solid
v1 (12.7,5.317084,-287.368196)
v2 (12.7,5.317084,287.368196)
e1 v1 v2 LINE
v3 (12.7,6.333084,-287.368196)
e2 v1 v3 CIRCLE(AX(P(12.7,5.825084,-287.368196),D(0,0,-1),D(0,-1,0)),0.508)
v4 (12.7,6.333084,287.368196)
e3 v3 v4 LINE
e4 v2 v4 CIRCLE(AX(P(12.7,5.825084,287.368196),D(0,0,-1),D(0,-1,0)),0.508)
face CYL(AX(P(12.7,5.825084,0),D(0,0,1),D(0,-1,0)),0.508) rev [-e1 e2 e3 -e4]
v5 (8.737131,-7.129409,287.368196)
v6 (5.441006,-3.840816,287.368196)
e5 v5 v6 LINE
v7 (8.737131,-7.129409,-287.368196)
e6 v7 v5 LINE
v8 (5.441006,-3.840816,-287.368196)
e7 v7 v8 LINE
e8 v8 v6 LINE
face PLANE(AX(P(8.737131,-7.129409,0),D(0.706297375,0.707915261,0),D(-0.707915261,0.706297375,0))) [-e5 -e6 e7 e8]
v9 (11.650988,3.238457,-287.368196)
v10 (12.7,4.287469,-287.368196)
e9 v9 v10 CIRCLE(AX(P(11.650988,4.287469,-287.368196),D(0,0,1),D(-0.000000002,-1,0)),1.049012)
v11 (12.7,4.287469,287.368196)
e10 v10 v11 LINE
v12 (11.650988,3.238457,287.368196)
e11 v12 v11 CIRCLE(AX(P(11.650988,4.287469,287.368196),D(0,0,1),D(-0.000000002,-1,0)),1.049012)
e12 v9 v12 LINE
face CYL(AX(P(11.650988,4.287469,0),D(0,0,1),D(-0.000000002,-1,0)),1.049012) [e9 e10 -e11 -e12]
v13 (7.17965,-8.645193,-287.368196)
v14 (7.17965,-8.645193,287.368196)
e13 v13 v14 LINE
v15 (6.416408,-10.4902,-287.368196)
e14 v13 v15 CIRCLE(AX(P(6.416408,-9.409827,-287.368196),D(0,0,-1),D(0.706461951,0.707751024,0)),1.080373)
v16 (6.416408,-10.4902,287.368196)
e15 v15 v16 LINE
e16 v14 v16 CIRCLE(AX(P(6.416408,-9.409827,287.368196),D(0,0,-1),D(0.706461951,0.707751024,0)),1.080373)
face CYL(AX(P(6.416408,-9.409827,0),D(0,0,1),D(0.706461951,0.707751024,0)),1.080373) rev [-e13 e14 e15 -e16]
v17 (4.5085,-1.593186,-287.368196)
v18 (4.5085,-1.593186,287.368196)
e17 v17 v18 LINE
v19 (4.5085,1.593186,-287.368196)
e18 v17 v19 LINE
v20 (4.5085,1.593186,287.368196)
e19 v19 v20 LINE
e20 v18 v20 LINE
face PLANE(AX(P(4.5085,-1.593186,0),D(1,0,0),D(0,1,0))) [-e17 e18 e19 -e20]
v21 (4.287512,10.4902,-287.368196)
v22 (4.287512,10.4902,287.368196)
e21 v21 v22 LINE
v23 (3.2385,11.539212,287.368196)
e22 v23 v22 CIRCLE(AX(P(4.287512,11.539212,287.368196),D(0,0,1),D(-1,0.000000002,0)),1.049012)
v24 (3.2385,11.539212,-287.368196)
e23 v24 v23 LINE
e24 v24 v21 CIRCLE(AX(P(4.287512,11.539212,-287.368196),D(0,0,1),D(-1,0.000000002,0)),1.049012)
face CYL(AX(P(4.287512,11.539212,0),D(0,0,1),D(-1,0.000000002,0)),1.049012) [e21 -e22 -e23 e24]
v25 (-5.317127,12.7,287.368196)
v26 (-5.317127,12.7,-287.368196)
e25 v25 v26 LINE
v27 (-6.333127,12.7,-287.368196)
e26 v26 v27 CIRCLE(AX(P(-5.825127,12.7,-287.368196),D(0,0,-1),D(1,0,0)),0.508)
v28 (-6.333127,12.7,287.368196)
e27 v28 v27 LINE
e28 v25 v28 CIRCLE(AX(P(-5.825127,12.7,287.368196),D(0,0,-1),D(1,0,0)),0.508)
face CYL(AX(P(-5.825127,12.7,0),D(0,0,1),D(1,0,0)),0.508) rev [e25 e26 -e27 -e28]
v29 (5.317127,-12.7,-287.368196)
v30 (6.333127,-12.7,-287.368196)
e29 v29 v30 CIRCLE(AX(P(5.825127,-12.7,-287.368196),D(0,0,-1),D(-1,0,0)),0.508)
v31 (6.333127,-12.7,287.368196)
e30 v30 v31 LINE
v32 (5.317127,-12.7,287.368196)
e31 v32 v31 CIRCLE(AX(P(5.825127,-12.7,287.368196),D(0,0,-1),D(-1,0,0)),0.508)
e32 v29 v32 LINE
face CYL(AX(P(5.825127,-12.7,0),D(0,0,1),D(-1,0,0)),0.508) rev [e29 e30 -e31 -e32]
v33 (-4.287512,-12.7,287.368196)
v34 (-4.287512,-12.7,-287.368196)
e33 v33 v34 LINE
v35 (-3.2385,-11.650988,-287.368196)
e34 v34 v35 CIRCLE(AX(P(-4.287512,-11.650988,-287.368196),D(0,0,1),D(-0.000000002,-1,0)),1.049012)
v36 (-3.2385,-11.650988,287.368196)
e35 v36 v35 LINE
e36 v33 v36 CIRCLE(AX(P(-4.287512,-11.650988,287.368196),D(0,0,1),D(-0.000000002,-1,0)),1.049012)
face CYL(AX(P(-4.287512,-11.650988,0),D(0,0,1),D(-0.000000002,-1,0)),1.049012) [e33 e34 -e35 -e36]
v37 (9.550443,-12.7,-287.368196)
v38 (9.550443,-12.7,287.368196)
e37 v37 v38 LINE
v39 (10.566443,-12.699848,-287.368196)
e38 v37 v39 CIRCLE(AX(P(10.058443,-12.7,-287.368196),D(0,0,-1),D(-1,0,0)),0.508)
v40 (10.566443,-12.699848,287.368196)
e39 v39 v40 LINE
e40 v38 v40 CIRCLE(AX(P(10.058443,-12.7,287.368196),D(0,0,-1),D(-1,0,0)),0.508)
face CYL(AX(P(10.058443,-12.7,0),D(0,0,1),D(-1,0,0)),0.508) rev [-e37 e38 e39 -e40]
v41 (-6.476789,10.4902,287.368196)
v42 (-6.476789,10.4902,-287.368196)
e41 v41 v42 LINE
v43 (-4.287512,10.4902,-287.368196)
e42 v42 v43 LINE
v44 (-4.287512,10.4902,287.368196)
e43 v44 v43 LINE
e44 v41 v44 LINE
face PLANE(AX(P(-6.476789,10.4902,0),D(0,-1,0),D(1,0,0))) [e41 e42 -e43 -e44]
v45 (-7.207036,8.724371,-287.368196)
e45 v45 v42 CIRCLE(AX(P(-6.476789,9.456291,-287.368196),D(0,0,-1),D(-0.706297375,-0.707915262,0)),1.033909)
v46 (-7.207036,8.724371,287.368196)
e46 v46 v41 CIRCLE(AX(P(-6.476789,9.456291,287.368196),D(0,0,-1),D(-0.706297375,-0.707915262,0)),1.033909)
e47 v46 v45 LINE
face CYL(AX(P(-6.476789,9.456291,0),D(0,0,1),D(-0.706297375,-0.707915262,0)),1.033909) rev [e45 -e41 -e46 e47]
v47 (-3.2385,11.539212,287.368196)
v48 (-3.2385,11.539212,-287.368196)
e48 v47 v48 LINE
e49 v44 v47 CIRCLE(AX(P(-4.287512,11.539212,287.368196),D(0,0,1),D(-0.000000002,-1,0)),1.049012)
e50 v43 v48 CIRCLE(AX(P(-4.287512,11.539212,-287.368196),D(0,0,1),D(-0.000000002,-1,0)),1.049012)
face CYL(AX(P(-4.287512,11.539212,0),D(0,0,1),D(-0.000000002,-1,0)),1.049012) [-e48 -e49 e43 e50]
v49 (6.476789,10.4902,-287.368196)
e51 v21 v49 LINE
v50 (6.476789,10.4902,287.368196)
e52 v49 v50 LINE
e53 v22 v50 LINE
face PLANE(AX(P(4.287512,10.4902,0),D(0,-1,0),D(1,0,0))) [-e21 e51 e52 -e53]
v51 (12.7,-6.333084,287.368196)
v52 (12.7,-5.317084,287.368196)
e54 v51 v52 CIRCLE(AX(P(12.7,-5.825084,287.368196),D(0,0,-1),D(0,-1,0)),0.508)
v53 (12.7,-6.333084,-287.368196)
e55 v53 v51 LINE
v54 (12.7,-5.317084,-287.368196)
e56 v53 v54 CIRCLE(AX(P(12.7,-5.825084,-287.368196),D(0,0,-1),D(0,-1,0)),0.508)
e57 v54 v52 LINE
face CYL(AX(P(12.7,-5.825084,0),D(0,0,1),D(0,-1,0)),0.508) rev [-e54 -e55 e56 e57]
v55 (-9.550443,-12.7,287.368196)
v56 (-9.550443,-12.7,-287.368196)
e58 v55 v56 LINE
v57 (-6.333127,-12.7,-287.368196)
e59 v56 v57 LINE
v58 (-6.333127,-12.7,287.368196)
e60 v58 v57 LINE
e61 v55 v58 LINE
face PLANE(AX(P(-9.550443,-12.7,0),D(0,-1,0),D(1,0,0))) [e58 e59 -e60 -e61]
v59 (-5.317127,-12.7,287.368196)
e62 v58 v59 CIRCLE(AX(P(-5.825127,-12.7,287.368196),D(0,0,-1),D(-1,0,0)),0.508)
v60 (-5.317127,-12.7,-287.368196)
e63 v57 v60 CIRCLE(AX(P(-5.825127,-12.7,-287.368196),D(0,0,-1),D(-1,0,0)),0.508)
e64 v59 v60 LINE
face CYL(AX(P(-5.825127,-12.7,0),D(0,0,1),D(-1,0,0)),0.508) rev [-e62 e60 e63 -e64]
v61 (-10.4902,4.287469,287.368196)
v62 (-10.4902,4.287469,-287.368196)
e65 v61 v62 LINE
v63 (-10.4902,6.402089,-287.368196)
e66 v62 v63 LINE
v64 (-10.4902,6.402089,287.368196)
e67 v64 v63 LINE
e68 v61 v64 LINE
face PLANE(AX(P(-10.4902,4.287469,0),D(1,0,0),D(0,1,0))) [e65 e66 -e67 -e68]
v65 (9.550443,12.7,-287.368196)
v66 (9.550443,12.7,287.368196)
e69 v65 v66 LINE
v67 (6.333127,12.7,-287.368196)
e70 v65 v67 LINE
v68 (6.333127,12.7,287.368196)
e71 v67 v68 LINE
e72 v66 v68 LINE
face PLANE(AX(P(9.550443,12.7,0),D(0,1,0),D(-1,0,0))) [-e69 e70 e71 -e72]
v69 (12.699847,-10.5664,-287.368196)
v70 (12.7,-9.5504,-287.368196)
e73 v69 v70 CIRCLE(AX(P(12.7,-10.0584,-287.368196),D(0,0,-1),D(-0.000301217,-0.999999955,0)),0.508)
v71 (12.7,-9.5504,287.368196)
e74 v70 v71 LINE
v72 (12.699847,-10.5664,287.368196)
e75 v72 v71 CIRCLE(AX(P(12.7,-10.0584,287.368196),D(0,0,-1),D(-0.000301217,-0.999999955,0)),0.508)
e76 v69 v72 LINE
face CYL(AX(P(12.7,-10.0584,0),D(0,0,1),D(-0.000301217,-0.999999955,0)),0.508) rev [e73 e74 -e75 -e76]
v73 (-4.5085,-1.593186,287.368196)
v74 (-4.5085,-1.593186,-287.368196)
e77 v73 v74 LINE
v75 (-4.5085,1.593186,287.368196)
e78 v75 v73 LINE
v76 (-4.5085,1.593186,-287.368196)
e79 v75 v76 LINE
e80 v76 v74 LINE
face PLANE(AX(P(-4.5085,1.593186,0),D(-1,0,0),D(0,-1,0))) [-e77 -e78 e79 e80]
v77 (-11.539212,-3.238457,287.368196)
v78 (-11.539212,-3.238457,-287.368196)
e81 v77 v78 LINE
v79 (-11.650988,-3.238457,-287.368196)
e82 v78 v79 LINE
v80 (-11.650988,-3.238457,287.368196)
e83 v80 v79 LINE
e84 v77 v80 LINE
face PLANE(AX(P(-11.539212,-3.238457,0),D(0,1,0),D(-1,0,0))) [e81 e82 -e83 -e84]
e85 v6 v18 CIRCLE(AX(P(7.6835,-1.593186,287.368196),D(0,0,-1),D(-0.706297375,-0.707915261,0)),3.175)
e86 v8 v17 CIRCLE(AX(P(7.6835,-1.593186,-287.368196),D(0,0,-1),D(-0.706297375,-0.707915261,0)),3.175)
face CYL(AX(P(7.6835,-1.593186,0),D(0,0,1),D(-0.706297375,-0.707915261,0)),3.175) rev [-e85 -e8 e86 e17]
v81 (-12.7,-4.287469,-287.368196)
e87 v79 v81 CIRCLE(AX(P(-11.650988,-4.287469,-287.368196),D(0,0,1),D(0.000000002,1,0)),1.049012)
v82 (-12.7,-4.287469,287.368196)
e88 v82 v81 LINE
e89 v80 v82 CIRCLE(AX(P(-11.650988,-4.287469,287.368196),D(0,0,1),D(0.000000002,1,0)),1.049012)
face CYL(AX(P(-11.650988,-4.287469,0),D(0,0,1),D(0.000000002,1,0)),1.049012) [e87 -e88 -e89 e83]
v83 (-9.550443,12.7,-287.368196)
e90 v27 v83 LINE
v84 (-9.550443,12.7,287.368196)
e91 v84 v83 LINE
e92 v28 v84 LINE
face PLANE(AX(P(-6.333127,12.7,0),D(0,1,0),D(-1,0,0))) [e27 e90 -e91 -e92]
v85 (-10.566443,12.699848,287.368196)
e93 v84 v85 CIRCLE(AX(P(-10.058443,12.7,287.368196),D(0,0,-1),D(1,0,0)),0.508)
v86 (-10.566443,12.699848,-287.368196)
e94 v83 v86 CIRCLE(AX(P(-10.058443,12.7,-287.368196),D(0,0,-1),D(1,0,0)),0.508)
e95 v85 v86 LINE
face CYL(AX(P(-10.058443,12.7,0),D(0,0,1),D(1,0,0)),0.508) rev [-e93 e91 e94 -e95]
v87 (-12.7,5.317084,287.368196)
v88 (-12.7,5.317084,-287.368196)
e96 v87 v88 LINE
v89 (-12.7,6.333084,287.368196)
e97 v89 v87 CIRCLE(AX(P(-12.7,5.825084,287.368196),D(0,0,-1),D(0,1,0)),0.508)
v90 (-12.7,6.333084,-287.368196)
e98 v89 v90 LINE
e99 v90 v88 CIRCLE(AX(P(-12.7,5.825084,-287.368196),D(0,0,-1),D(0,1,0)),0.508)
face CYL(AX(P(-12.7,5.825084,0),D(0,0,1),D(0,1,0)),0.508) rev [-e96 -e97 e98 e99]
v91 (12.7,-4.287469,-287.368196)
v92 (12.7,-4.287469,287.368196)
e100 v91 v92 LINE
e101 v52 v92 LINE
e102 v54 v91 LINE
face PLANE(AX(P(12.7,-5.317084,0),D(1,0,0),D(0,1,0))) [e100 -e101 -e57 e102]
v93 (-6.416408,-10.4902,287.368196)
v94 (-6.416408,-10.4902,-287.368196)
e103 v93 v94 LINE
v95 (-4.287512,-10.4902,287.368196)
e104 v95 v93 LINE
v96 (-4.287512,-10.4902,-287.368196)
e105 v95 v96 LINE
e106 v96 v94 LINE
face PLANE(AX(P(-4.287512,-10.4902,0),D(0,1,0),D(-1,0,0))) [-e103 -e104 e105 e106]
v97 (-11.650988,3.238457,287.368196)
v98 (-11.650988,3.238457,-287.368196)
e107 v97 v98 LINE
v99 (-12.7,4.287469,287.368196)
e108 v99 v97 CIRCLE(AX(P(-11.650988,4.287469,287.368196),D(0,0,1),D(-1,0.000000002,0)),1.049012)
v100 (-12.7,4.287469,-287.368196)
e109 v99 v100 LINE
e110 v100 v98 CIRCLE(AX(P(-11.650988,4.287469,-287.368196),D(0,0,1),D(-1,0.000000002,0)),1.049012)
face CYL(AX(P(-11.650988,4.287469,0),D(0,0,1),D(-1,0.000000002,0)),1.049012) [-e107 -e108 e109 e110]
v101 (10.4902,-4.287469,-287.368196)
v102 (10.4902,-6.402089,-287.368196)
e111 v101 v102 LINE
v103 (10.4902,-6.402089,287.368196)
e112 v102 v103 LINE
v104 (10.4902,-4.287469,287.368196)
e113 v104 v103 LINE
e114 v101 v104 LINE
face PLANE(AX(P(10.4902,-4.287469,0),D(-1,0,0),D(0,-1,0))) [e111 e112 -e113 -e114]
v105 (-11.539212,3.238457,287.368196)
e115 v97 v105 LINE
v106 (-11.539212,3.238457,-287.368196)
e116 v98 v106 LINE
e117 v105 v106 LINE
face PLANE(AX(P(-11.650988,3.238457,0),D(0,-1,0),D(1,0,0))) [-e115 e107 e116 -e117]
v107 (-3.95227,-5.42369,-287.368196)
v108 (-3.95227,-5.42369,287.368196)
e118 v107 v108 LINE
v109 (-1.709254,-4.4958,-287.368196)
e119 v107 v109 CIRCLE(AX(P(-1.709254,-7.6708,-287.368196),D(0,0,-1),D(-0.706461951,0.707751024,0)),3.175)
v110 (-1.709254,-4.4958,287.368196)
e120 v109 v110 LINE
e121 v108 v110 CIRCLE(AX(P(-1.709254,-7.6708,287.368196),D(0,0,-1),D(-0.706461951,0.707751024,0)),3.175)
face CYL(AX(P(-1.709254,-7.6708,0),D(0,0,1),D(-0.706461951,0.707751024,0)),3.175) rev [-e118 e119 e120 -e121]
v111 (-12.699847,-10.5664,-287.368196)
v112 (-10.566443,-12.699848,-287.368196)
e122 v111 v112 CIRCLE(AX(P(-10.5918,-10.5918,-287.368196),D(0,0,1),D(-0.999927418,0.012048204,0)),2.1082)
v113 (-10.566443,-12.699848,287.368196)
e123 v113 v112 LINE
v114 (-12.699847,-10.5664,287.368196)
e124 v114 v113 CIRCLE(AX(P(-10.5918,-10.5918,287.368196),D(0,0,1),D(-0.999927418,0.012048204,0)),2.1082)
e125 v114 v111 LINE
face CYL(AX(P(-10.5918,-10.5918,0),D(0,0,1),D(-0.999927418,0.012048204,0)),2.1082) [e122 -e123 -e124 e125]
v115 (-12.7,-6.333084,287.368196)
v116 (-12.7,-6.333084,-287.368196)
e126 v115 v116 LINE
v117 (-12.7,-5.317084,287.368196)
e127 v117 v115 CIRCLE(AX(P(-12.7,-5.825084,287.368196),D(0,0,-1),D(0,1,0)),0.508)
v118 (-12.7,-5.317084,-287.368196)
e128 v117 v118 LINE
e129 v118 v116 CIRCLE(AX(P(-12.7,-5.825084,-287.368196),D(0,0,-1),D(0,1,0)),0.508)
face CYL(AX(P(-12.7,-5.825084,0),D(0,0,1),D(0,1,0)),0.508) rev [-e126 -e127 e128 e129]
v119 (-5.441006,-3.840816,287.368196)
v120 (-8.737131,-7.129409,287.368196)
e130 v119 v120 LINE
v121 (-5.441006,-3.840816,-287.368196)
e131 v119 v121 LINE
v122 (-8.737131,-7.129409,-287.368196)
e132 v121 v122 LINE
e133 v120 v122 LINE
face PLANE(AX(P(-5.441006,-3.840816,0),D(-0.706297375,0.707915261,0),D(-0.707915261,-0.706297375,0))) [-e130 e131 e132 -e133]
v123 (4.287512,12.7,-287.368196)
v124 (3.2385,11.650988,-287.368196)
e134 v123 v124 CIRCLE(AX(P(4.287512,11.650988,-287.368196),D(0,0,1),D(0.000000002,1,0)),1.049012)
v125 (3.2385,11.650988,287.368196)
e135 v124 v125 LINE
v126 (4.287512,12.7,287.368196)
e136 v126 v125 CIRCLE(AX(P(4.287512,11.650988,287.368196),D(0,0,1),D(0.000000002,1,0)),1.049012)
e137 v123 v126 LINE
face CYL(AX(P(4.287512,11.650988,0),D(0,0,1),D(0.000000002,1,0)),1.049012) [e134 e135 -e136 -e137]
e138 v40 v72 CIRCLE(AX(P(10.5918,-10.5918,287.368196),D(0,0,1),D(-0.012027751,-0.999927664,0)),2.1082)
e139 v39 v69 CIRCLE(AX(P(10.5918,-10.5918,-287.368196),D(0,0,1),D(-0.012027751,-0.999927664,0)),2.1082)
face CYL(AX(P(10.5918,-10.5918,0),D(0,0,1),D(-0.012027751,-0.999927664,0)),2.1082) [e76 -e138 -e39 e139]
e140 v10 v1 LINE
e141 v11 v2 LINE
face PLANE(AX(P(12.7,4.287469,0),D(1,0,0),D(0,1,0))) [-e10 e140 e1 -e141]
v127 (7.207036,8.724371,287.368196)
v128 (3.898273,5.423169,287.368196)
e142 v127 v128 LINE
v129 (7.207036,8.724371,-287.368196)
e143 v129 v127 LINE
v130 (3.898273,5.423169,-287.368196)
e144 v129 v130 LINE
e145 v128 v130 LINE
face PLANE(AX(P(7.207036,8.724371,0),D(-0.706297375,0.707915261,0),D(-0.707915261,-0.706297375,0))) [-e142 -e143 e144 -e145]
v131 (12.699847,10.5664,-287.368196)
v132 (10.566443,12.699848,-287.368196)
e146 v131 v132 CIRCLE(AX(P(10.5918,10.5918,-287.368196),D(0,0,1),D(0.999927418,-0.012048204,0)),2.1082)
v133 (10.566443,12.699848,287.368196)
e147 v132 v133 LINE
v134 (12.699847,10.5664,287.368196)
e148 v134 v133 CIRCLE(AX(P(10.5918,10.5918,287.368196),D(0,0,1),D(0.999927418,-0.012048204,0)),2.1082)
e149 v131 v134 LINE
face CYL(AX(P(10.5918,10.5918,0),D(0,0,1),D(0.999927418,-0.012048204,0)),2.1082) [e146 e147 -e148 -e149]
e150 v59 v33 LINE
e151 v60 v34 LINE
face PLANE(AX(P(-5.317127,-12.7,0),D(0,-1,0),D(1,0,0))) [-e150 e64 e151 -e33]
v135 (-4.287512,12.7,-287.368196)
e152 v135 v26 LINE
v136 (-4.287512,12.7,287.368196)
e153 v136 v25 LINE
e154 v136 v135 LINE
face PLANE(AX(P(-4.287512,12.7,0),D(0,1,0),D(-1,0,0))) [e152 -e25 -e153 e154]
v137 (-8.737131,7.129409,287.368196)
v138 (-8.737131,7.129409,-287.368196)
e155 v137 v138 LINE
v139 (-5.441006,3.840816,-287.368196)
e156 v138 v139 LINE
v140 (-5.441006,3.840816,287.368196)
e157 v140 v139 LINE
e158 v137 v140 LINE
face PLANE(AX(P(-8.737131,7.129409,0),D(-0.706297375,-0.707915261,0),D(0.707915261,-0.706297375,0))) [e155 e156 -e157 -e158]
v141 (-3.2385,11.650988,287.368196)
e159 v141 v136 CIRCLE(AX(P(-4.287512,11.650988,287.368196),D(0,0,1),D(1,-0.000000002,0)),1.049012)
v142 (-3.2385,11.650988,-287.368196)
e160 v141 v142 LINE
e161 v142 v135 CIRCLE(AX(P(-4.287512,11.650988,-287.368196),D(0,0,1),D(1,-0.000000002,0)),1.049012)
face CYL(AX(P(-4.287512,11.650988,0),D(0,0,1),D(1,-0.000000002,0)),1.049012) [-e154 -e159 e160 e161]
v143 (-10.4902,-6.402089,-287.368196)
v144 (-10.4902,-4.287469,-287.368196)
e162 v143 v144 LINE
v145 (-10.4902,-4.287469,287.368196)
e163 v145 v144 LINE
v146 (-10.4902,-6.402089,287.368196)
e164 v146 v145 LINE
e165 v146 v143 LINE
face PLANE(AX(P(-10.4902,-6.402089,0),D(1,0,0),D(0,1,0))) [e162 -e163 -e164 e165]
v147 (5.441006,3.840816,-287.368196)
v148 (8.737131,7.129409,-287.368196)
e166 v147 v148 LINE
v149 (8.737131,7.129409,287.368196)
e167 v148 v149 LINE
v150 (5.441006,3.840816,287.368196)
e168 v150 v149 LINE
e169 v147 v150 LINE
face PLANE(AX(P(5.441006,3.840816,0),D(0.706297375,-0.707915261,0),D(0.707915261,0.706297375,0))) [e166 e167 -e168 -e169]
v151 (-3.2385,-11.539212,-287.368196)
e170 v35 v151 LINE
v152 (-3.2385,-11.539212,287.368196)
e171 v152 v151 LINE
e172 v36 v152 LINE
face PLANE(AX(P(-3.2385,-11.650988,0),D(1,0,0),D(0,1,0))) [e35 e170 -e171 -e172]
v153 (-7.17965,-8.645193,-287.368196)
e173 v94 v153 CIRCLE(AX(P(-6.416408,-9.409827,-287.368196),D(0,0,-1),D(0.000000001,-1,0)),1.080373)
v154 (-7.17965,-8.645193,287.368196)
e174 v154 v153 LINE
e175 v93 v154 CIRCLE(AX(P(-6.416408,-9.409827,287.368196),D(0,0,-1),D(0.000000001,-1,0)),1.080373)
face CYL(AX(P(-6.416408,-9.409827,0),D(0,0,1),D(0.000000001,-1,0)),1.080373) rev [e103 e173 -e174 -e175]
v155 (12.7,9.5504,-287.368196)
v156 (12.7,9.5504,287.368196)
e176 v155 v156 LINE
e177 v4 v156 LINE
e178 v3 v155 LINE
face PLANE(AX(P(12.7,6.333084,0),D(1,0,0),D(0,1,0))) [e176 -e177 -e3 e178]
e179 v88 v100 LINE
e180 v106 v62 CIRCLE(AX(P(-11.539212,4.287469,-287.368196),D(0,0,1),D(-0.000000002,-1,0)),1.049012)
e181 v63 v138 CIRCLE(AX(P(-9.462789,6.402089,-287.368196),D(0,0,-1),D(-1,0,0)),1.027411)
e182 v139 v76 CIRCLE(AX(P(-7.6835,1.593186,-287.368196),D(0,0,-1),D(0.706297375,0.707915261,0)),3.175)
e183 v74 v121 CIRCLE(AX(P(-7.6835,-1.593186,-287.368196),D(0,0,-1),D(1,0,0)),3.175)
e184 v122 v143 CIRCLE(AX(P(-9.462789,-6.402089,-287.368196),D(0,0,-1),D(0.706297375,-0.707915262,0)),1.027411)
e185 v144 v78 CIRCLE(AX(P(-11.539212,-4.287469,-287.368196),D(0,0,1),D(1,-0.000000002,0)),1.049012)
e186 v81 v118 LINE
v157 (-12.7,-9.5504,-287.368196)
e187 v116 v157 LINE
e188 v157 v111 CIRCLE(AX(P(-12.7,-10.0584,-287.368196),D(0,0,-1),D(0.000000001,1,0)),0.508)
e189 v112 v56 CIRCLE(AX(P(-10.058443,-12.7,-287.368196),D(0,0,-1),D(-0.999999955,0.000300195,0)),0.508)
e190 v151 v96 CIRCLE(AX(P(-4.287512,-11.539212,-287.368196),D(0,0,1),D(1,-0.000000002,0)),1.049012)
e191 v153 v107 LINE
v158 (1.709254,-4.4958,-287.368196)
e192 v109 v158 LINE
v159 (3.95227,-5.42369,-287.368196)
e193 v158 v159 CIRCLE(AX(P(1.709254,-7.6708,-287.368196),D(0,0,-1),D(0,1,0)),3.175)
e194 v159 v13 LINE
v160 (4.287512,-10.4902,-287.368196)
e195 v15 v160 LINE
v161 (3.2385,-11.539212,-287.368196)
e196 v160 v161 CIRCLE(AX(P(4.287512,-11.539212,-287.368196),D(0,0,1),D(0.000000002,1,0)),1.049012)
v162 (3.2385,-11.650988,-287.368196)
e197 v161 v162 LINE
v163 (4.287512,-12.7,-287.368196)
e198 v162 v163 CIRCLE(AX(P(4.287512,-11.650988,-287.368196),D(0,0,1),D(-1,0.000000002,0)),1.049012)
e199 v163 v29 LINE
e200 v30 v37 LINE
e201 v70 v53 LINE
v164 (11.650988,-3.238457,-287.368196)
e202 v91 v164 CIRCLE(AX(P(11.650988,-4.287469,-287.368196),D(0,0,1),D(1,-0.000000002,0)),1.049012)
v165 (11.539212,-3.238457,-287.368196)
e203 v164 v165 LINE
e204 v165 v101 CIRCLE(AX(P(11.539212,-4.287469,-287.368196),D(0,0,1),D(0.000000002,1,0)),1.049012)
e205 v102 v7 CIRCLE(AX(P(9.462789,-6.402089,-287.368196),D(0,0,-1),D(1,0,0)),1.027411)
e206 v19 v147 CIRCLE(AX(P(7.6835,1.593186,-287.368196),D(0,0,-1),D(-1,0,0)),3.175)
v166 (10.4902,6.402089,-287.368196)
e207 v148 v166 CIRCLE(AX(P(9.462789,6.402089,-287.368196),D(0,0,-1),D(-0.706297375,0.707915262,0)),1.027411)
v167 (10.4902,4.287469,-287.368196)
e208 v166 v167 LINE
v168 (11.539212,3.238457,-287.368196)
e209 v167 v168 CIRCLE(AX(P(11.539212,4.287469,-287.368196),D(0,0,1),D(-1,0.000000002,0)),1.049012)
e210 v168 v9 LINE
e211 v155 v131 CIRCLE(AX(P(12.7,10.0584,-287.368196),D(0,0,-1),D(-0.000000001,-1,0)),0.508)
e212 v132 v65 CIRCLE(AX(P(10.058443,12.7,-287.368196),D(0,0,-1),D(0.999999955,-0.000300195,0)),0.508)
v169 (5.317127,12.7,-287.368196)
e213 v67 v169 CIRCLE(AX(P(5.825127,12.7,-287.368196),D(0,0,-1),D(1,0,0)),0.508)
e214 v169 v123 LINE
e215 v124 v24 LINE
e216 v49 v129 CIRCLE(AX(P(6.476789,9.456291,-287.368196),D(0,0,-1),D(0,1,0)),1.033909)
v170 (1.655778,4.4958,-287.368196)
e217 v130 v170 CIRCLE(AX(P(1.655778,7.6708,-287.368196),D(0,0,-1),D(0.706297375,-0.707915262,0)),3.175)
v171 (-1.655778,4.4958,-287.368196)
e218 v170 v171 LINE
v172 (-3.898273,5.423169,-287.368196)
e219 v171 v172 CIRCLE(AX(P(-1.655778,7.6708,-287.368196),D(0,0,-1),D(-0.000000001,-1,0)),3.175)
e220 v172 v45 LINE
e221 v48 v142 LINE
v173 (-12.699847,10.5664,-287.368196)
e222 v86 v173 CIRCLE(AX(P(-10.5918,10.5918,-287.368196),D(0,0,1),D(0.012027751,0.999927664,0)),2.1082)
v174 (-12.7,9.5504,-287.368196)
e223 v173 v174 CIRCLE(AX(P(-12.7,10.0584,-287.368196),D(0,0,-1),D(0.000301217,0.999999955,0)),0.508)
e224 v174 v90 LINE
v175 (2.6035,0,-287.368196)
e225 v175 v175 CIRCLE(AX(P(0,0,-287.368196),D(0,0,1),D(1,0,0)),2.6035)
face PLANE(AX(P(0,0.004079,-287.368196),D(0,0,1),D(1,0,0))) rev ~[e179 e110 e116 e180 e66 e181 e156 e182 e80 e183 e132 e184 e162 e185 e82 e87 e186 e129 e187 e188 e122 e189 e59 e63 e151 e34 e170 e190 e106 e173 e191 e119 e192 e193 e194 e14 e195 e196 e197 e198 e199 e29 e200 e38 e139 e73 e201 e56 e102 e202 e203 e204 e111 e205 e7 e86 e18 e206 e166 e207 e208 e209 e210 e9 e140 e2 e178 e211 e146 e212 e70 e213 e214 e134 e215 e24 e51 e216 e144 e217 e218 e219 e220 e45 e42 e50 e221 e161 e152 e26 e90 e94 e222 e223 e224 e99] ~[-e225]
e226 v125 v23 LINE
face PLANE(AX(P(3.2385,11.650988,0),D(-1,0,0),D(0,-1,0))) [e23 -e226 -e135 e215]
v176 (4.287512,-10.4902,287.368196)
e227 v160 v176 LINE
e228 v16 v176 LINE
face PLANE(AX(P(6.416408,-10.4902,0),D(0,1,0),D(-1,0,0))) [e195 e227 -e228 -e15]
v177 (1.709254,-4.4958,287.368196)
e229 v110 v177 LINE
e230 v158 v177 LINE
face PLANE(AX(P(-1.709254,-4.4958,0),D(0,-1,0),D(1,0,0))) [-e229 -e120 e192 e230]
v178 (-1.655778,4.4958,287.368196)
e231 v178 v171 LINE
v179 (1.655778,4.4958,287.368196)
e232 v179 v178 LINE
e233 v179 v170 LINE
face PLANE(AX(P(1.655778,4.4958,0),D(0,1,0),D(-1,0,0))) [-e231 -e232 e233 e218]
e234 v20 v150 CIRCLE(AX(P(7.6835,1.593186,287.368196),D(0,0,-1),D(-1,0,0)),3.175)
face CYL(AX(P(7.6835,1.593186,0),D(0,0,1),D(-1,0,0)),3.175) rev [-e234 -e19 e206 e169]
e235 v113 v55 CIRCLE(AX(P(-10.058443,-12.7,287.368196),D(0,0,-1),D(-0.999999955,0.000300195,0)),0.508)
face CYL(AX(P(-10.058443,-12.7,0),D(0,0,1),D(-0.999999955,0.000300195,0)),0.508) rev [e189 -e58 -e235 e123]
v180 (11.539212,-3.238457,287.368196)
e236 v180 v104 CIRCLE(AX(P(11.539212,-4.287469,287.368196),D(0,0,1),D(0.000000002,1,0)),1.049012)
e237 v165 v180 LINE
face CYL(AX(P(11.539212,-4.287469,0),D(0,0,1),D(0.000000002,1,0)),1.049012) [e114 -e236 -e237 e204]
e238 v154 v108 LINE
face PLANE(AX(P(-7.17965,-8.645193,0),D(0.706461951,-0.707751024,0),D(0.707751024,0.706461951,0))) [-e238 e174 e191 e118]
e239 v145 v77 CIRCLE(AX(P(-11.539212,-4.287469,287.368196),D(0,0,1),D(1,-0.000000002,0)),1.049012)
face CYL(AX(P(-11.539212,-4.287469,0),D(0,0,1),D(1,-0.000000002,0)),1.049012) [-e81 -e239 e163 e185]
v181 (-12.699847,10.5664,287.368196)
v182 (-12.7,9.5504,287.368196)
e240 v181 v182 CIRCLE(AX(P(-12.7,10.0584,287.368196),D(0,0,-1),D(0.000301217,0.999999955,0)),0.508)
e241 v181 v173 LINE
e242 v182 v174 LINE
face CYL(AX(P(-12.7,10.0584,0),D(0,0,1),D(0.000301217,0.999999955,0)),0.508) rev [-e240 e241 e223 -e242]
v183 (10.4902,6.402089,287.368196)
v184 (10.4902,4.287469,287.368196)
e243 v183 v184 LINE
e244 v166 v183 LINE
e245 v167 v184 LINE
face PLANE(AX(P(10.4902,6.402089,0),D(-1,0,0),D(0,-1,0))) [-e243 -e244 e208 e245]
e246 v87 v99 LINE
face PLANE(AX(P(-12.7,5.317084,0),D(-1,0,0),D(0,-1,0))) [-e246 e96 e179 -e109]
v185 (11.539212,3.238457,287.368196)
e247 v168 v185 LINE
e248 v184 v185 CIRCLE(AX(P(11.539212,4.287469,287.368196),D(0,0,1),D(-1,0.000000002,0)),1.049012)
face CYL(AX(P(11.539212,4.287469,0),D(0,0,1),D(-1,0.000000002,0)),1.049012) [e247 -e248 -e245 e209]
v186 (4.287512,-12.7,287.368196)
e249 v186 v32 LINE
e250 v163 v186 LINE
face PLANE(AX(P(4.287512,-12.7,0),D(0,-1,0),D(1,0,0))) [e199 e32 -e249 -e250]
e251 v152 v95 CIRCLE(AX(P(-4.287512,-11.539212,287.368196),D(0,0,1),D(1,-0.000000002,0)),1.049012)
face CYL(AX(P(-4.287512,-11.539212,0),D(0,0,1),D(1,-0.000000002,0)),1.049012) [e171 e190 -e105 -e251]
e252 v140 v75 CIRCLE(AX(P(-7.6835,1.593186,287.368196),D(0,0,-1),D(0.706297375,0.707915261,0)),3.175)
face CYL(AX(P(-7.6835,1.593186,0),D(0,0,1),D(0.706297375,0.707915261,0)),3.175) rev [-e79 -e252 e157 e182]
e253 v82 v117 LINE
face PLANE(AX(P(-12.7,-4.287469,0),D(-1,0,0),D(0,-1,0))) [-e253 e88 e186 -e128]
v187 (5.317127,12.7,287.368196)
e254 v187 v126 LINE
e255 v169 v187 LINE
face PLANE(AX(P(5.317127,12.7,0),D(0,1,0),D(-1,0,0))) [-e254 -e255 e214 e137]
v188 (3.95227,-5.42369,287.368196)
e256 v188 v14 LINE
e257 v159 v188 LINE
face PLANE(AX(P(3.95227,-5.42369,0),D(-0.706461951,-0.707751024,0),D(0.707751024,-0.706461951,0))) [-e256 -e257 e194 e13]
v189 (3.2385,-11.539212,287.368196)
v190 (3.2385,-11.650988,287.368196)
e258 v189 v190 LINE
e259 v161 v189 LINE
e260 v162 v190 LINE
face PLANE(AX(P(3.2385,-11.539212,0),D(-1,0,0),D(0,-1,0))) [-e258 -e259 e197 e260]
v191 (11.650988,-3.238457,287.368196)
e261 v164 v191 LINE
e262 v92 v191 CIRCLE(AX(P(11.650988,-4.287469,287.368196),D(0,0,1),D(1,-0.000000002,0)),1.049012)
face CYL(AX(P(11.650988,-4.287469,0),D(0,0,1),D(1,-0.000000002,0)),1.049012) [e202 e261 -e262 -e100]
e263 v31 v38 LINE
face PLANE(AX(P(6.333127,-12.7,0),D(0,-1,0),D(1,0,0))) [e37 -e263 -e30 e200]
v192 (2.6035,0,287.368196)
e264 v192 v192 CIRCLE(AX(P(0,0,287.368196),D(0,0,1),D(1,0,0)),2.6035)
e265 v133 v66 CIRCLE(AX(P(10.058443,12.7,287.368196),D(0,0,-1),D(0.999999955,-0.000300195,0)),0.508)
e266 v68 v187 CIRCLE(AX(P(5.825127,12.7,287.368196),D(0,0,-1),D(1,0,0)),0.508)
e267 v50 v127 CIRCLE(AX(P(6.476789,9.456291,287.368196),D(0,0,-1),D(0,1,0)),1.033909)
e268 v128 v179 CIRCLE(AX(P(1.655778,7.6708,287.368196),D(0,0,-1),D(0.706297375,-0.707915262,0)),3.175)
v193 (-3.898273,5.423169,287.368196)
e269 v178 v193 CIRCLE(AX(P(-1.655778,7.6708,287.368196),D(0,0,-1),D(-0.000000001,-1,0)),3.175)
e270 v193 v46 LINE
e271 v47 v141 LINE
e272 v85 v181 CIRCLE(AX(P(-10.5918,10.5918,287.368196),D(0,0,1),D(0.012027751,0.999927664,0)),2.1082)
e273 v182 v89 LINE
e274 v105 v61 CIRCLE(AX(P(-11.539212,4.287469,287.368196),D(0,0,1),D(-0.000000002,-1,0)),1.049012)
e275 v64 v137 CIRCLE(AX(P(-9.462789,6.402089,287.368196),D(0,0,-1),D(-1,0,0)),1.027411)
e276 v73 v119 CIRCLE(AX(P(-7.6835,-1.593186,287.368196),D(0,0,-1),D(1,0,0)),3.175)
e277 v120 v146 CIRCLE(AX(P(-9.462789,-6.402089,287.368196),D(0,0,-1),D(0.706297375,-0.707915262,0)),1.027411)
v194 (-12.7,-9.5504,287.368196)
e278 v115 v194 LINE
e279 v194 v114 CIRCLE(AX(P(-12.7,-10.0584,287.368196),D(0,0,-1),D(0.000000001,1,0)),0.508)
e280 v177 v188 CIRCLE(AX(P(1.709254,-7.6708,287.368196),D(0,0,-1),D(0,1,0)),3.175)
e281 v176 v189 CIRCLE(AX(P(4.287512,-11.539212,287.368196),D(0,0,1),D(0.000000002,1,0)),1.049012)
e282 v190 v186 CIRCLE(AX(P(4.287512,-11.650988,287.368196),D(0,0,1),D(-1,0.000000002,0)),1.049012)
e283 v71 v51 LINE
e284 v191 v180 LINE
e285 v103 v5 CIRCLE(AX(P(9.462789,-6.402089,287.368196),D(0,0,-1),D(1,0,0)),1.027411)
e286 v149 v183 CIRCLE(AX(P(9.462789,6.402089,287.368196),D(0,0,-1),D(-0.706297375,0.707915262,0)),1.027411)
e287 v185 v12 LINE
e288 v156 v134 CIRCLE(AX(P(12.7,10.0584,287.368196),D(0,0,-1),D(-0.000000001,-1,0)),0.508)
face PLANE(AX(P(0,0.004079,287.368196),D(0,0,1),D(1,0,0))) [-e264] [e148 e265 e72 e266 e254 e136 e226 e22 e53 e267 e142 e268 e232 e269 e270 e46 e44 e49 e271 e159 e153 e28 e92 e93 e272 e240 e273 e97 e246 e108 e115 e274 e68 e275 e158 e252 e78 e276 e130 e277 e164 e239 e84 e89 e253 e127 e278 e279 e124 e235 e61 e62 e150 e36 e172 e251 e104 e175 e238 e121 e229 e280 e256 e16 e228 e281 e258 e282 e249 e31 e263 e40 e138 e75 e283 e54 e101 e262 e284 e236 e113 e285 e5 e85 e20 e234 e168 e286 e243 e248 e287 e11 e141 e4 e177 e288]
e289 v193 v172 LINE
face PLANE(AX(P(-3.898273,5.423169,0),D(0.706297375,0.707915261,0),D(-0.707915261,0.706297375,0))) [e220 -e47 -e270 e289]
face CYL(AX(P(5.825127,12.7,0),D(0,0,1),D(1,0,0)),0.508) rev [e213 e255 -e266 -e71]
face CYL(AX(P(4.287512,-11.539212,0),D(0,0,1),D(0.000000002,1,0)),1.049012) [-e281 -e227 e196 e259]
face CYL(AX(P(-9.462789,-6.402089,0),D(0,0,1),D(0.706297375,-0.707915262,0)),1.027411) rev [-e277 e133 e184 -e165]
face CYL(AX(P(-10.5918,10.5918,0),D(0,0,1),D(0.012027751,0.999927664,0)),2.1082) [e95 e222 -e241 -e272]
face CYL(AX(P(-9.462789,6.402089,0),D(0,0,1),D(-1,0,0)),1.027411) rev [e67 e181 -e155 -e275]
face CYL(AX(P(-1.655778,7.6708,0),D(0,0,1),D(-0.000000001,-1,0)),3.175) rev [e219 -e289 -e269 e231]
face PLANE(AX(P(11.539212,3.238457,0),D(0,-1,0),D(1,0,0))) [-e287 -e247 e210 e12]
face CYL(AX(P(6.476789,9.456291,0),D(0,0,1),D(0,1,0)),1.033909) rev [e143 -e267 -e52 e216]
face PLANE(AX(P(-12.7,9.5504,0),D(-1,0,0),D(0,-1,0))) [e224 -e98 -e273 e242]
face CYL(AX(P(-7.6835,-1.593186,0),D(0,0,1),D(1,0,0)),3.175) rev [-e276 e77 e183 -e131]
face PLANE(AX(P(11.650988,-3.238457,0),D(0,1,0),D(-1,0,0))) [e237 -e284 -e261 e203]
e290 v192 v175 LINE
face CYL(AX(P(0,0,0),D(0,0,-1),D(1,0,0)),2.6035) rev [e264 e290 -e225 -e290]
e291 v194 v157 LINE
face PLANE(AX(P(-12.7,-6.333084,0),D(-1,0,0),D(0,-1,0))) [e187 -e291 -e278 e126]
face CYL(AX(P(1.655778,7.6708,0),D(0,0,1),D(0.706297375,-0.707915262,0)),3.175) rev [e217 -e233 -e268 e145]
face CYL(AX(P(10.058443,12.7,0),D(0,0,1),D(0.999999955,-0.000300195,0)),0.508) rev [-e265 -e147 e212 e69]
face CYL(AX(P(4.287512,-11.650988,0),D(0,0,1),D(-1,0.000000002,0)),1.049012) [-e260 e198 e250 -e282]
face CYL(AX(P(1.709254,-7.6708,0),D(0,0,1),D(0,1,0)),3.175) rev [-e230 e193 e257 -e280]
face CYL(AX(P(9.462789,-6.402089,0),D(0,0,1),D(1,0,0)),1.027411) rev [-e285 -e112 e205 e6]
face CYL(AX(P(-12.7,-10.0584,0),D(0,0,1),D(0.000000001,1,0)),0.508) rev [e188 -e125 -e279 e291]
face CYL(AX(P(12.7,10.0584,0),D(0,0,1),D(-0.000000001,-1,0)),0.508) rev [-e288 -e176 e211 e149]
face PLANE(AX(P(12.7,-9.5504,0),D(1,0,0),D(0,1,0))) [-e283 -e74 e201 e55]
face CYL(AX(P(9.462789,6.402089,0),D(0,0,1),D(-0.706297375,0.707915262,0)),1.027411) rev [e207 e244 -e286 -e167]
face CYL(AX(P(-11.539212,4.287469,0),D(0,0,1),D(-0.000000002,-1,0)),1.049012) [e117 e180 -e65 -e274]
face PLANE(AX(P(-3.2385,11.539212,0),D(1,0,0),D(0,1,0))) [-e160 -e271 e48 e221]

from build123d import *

# Parameters (mm, degrees)
SKETCH1_R           = 2.6035
BOSS_EXTRUDE1_DEPTH = 287.3681959


with BuildPart() as part:
    # Sketch1 → Boss-Extrude1 (new, symmetric)
    with BuildSketch(Plane.XY):
        with BuildLine():
            Line((-7.179650497, -8.645192506), (-3.952270251, -5.423690499))
            ThreePointArc((-3.952270251, -5.423690499), (-2.922936451, -4.736929036), (-1.709253557, -4.4958))
            Line((-1.709253557, -4.4958), (1.709253557, -4.4958))
            ThreePointArc((1.709253557, -4.4958), (2.922936451, -4.736929036), (3.952270251, -5.423690499))
            Line((3.952270251, -5.423690499), (7.179650497, -8.645192506))
            ThreePointArc((7.179650497, -8.645192506), (7.41473083, -9.822813117), (6.416408329, -10.4902))
            Line((6.416408329, -10.4902), (4.287512407, -10.4902))
            ThreePointArc((4.287512407, -10.4902), (3.54574862, -10.79744862), (3.2385, -11.539212407))
            Line((3.2385, -11.539212407), (3.2385, -11.650987593))
            ThreePointArc((3.2385, -11.650987593), (3.54574862, -12.39275138), (4.287512407, -12.7))
            Line((4.287512407, -12.7), (5.317126718, -12.7))
            ThreePointArc((5.317126718, -12.7), (5.825126718, -12.192), (6.333126718, -12.7))
            Line((6.333126718, -12.7), (9.550443118, -12.7))
            ThreePointArc((9.550443118, -12.7), (10.058366869, -12.192000006), (10.566443095, -12.699847501))
            ThreePointArc((10.566443095, -12.699847501), (12.082537762, -12.08250727), (12.699846982, -10.566399977))
            ThreePointArc((12.699846982, -10.566399977), (12.192000006, -10.058323491), (12.7, -9.5504))
            Line((12.7, -9.5504), (12.7, -6.3330836))
            ThreePointArc((12.7, -6.3330836), (12.192, -5.8250836), (12.7, -5.3170836))
            Line((12.7, -5.3170836), (12.7, -4.287469289))
            ThreePointArc((12.7, -4.287469289), (12.39275138, -3.545705502), (11.650987593, -3.238456882))
            Line((11.650987593, -3.238456882), (11.539212407, -3.238456882))
            ThreePointArc((11.539212407, -3.238456882), (10.79744862, -3.545705502), (10.4902, -4.287469289))
            Line((10.4902, -4.287469289), (10.4902, -6.402089023))
            ThreePointArc((10.4902, -6.402089023), (9.856505071, -7.351067942), (8.737131347, -7.129408934))
            Line((8.737131347, -7.129408934), (5.441005833, -3.840816462))
            ThreePointArc((5.441005833, -3.840816462), (4.750877967, -2.809883091), (4.5085, -1.593185507))
            Line((4.5085, -1.593185507), (4.5085, 1.593185507))
            ThreePointArc((4.5085, 1.593185507), (4.750877967, 2.809883091), (5.441005833, 3.840816462))
            Line((5.441005833, 3.840816462), (8.737131347, 7.129408934))
            ThreePointArc((8.737131347, 7.129408934), (9.856505071, 7.351067942), (10.4902, 6.402089023))
            Line((10.4902, 6.402089023), (10.4902, 4.287469289))
            ThreePointArc((10.4902, 4.287469289), (10.79744862, 3.545705502), (11.539212407, 3.238456882))
            Line((11.539212407, 3.238456882), (11.650987593, 3.238456882))
            ThreePointArc((11.650987593, 3.238456882), (12.39275138, 3.545705502), (12.7, 4.287469289))
            Line((12.7, 4.287469289), (12.7, 5.3170836))
            ThreePointArc((12.7, 5.3170836), (12.192, 5.8250836), (12.7, 6.3330836))
            Line((12.7, 6.3330836), (12.7, 9.5504))
            ThreePointArc((12.7, 9.5504), (12.192000006, 10.058323491), (12.699846982, 10.566399977))
            ThreePointArc((12.699846982, 10.566399977), (12.082537762, 12.08250727), (10.566443095, 12.699847501))
            ThreePointArc((10.566443095, 12.699847501), (10.058366869, 12.192000006), (9.550443118, 12.7))
            Line((9.550443118, 12.7), (6.333126718, 12.7))
            ThreePointArc((6.333126718, 12.7), (5.825126718, 12.192), (5.317126718, 12.7))
            Line((5.317126718, 12.7), (4.287512407, 12.7))
            ThreePointArc((4.287512407, 12.7), (3.54574862, 12.39275138), (3.2385, 11.650987593))
            Line((3.2385, 11.650987593), (3.2385, 11.539212407))
            ThreePointArc((3.2385, 11.539212407), (3.54574862, 10.79744862), (4.287512407, 10.4902))
            Line((4.287512407, 10.4902), (6.476788598, 10.4902))
            ThreePointArc((6.476788598, 10.4902), (7.432222385, 9.85140422), (7.207036008, 8.724370562))
            Line((7.207036008, 8.724370562), (3.898272566, 5.423169045))
            ThreePointArc((3.898272566, 5.423169045), (2.869120213, 4.736787962), (1.655778399, 4.4958))
            Line((1.655778399, 4.4958), (-1.655778399, 4.4958))
            ThreePointArc((-1.655778399, 4.4958), (-2.869120213, 4.736787962), (-3.898272566, 5.423169045))
            Line((-3.898272566, 5.423169045), (-7.207036008, 8.724370562))
            ThreePointArc((-7.207036008, 8.724370562), (-7.432222385, 9.85140422), (-6.476788598, 10.4902))
            Line((-6.476788598, 10.4902), (-4.287512407, 10.4902))
            ThreePointArc((-4.287512407, 10.4902), (-3.54574862, 10.79744862), (-3.2385, 11.539212407))
            Line((-3.2385, 11.539212407), (-3.2385, 11.650987593))
            ThreePointArc((-3.2385, 11.650987593), (-3.54574862, 12.39275138), (-4.287512407, 12.7))
            Line((-4.287512407, 12.7), (-5.317126718, 12.7))
            ThreePointArc((-5.317126718, 12.7), (-5.825126718, 12.192), (-6.333126718, 12.7))
            Line((-6.333126718, 12.7), (-9.550443118, 12.7))
            ThreePointArc((-9.550443118, 12.7), (-10.058366869, 12.192000006), (-10.566443095, 12.699847501))
            ThreePointArc((-10.566443095, 12.699847501), (-12.082537762, 12.08250727), (-12.699846982, 10.566399977))
            ThreePointArc((-12.699846982, 10.566399977), (-12.192000006, 10.058323491), (-12.7, 9.5504))
            Line((-12.7, 9.5504), (-12.7, 6.3330836))
            ThreePointArc((-12.7, 6.3330836), (-12.192, 5.8250836), (-12.7, 5.3170836))
            Line((-12.7, 5.3170836), (-12.7, 4.287469289))
            ThreePointArc((-12.7, 4.287469289), (-12.39275138, 3.545705502), (-11.650987593, 3.238456882))
            Line((-11.650987593, 3.238456882), (-11.539212407, 3.238456882))
            ThreePointArc((-11.539212407, 3.238456882), (-10.79744862, 3.545705502), (-10.4902, 4.287469289))
            Line((-10.4902, 4.287469289), (-10.4902, 6.402089023))
            ThreePointArc((-10.4902, 6.402089023), (-9.856505071, 7.351067942), (-8.737131347, 7.129408934))
            Line((-8.737131347, 7.129408934), (-5.441005833, 3.840816462))
            ThreePointArc((-5.441005833, 3.840816462), (-4.750877967, 2.809883091), (-4.5085, 1.593185507))
            Line((-4.5085, 1.593185507), (-4.5085, -1.593185507))
            ThreePointArc((-4.5085, -1.593185507), (-4.750877967, -2.809883091), (-5.441005833, -3.840816462))
            Line((-5.441005833, -3.840816462), (-8.737131347, -7.129408934))
            ThreePointArc((-8.737131347, -7.129408934), (-9.856505071, -7.351067942), (-10.4902, -6.402089023))
            Line((-10.4902, -6.402089023), (-10.4902, -4.287469289))
            ThreePointArc((-10.4902, -4.287469289), (-10.79744862, -3.545705502), (-11.539212407, -3.238456882))
            Line((-11.539212407, -3.238456882), (-11.650987593, -3.238456882))
            ThreePointArc((-11.650987593, -3.238456882), (-12.39275138, -3.545705502), (-12.7, -4.287469289))
            Line((-12.7, -4.287469289), (-12.7, -5.3170836))
            ThreePointArc((-12.7, -5.3170836), (-12.192, -5.8250836), (-12.7, -6.3330836))
            Line((-12.7, -6.3330836), (-12.7, -9.5504))
            ThreePointArc((-12.7, -9.5504), (-12.192000006, -10.058323491), (-12.699846982, -10.566399977))
            ThreePointArc((-12.699846982, -10.566399977), (-12.082537762, -12.08250727), (-10.566443095, -12.699847501))
            ThreePointArc((-10.566443095, -12.699847501), (-10.058366869, -12.192000006), (-9.550443118, -12.7))
            Line((-9.550443118, -12.7), (-6.333126718, -12.7))
            ThreePointArc((-6.333126718, -12.7), (-5.825126718, -12.192), (-5.317126718, -12.7))
            Line((-5.317126718, -12.7), (-4.287512407, -12.7))
            ThreePointArc((-4.287512407, -12.7), (-3.54574862, -12.39275138), (-3.2385, -11.650987593))
            Line((-3.2385, -11.650987593), (-3.2385, -11.539212407))
            ThreePointArc((-3.2385, -11.539212407), (-3.54574862, -10.79744862), (-4.287512407, -10.4902))
            Line((-4.287512407, -10.4902), (-6.416408329, -10.4902))
            ThreePointArc((-6.416408329, -10.4902), (-7.41473083, -9.822813117), (-7.179650497, -8.645192506))
        make_face()
        Circle(SKETCH1_R, mode=Mode.SUBTRACT)
    extrude(amount=BOSS_EXTRUDE1_DEPTH, both=True)


solid = part.part
